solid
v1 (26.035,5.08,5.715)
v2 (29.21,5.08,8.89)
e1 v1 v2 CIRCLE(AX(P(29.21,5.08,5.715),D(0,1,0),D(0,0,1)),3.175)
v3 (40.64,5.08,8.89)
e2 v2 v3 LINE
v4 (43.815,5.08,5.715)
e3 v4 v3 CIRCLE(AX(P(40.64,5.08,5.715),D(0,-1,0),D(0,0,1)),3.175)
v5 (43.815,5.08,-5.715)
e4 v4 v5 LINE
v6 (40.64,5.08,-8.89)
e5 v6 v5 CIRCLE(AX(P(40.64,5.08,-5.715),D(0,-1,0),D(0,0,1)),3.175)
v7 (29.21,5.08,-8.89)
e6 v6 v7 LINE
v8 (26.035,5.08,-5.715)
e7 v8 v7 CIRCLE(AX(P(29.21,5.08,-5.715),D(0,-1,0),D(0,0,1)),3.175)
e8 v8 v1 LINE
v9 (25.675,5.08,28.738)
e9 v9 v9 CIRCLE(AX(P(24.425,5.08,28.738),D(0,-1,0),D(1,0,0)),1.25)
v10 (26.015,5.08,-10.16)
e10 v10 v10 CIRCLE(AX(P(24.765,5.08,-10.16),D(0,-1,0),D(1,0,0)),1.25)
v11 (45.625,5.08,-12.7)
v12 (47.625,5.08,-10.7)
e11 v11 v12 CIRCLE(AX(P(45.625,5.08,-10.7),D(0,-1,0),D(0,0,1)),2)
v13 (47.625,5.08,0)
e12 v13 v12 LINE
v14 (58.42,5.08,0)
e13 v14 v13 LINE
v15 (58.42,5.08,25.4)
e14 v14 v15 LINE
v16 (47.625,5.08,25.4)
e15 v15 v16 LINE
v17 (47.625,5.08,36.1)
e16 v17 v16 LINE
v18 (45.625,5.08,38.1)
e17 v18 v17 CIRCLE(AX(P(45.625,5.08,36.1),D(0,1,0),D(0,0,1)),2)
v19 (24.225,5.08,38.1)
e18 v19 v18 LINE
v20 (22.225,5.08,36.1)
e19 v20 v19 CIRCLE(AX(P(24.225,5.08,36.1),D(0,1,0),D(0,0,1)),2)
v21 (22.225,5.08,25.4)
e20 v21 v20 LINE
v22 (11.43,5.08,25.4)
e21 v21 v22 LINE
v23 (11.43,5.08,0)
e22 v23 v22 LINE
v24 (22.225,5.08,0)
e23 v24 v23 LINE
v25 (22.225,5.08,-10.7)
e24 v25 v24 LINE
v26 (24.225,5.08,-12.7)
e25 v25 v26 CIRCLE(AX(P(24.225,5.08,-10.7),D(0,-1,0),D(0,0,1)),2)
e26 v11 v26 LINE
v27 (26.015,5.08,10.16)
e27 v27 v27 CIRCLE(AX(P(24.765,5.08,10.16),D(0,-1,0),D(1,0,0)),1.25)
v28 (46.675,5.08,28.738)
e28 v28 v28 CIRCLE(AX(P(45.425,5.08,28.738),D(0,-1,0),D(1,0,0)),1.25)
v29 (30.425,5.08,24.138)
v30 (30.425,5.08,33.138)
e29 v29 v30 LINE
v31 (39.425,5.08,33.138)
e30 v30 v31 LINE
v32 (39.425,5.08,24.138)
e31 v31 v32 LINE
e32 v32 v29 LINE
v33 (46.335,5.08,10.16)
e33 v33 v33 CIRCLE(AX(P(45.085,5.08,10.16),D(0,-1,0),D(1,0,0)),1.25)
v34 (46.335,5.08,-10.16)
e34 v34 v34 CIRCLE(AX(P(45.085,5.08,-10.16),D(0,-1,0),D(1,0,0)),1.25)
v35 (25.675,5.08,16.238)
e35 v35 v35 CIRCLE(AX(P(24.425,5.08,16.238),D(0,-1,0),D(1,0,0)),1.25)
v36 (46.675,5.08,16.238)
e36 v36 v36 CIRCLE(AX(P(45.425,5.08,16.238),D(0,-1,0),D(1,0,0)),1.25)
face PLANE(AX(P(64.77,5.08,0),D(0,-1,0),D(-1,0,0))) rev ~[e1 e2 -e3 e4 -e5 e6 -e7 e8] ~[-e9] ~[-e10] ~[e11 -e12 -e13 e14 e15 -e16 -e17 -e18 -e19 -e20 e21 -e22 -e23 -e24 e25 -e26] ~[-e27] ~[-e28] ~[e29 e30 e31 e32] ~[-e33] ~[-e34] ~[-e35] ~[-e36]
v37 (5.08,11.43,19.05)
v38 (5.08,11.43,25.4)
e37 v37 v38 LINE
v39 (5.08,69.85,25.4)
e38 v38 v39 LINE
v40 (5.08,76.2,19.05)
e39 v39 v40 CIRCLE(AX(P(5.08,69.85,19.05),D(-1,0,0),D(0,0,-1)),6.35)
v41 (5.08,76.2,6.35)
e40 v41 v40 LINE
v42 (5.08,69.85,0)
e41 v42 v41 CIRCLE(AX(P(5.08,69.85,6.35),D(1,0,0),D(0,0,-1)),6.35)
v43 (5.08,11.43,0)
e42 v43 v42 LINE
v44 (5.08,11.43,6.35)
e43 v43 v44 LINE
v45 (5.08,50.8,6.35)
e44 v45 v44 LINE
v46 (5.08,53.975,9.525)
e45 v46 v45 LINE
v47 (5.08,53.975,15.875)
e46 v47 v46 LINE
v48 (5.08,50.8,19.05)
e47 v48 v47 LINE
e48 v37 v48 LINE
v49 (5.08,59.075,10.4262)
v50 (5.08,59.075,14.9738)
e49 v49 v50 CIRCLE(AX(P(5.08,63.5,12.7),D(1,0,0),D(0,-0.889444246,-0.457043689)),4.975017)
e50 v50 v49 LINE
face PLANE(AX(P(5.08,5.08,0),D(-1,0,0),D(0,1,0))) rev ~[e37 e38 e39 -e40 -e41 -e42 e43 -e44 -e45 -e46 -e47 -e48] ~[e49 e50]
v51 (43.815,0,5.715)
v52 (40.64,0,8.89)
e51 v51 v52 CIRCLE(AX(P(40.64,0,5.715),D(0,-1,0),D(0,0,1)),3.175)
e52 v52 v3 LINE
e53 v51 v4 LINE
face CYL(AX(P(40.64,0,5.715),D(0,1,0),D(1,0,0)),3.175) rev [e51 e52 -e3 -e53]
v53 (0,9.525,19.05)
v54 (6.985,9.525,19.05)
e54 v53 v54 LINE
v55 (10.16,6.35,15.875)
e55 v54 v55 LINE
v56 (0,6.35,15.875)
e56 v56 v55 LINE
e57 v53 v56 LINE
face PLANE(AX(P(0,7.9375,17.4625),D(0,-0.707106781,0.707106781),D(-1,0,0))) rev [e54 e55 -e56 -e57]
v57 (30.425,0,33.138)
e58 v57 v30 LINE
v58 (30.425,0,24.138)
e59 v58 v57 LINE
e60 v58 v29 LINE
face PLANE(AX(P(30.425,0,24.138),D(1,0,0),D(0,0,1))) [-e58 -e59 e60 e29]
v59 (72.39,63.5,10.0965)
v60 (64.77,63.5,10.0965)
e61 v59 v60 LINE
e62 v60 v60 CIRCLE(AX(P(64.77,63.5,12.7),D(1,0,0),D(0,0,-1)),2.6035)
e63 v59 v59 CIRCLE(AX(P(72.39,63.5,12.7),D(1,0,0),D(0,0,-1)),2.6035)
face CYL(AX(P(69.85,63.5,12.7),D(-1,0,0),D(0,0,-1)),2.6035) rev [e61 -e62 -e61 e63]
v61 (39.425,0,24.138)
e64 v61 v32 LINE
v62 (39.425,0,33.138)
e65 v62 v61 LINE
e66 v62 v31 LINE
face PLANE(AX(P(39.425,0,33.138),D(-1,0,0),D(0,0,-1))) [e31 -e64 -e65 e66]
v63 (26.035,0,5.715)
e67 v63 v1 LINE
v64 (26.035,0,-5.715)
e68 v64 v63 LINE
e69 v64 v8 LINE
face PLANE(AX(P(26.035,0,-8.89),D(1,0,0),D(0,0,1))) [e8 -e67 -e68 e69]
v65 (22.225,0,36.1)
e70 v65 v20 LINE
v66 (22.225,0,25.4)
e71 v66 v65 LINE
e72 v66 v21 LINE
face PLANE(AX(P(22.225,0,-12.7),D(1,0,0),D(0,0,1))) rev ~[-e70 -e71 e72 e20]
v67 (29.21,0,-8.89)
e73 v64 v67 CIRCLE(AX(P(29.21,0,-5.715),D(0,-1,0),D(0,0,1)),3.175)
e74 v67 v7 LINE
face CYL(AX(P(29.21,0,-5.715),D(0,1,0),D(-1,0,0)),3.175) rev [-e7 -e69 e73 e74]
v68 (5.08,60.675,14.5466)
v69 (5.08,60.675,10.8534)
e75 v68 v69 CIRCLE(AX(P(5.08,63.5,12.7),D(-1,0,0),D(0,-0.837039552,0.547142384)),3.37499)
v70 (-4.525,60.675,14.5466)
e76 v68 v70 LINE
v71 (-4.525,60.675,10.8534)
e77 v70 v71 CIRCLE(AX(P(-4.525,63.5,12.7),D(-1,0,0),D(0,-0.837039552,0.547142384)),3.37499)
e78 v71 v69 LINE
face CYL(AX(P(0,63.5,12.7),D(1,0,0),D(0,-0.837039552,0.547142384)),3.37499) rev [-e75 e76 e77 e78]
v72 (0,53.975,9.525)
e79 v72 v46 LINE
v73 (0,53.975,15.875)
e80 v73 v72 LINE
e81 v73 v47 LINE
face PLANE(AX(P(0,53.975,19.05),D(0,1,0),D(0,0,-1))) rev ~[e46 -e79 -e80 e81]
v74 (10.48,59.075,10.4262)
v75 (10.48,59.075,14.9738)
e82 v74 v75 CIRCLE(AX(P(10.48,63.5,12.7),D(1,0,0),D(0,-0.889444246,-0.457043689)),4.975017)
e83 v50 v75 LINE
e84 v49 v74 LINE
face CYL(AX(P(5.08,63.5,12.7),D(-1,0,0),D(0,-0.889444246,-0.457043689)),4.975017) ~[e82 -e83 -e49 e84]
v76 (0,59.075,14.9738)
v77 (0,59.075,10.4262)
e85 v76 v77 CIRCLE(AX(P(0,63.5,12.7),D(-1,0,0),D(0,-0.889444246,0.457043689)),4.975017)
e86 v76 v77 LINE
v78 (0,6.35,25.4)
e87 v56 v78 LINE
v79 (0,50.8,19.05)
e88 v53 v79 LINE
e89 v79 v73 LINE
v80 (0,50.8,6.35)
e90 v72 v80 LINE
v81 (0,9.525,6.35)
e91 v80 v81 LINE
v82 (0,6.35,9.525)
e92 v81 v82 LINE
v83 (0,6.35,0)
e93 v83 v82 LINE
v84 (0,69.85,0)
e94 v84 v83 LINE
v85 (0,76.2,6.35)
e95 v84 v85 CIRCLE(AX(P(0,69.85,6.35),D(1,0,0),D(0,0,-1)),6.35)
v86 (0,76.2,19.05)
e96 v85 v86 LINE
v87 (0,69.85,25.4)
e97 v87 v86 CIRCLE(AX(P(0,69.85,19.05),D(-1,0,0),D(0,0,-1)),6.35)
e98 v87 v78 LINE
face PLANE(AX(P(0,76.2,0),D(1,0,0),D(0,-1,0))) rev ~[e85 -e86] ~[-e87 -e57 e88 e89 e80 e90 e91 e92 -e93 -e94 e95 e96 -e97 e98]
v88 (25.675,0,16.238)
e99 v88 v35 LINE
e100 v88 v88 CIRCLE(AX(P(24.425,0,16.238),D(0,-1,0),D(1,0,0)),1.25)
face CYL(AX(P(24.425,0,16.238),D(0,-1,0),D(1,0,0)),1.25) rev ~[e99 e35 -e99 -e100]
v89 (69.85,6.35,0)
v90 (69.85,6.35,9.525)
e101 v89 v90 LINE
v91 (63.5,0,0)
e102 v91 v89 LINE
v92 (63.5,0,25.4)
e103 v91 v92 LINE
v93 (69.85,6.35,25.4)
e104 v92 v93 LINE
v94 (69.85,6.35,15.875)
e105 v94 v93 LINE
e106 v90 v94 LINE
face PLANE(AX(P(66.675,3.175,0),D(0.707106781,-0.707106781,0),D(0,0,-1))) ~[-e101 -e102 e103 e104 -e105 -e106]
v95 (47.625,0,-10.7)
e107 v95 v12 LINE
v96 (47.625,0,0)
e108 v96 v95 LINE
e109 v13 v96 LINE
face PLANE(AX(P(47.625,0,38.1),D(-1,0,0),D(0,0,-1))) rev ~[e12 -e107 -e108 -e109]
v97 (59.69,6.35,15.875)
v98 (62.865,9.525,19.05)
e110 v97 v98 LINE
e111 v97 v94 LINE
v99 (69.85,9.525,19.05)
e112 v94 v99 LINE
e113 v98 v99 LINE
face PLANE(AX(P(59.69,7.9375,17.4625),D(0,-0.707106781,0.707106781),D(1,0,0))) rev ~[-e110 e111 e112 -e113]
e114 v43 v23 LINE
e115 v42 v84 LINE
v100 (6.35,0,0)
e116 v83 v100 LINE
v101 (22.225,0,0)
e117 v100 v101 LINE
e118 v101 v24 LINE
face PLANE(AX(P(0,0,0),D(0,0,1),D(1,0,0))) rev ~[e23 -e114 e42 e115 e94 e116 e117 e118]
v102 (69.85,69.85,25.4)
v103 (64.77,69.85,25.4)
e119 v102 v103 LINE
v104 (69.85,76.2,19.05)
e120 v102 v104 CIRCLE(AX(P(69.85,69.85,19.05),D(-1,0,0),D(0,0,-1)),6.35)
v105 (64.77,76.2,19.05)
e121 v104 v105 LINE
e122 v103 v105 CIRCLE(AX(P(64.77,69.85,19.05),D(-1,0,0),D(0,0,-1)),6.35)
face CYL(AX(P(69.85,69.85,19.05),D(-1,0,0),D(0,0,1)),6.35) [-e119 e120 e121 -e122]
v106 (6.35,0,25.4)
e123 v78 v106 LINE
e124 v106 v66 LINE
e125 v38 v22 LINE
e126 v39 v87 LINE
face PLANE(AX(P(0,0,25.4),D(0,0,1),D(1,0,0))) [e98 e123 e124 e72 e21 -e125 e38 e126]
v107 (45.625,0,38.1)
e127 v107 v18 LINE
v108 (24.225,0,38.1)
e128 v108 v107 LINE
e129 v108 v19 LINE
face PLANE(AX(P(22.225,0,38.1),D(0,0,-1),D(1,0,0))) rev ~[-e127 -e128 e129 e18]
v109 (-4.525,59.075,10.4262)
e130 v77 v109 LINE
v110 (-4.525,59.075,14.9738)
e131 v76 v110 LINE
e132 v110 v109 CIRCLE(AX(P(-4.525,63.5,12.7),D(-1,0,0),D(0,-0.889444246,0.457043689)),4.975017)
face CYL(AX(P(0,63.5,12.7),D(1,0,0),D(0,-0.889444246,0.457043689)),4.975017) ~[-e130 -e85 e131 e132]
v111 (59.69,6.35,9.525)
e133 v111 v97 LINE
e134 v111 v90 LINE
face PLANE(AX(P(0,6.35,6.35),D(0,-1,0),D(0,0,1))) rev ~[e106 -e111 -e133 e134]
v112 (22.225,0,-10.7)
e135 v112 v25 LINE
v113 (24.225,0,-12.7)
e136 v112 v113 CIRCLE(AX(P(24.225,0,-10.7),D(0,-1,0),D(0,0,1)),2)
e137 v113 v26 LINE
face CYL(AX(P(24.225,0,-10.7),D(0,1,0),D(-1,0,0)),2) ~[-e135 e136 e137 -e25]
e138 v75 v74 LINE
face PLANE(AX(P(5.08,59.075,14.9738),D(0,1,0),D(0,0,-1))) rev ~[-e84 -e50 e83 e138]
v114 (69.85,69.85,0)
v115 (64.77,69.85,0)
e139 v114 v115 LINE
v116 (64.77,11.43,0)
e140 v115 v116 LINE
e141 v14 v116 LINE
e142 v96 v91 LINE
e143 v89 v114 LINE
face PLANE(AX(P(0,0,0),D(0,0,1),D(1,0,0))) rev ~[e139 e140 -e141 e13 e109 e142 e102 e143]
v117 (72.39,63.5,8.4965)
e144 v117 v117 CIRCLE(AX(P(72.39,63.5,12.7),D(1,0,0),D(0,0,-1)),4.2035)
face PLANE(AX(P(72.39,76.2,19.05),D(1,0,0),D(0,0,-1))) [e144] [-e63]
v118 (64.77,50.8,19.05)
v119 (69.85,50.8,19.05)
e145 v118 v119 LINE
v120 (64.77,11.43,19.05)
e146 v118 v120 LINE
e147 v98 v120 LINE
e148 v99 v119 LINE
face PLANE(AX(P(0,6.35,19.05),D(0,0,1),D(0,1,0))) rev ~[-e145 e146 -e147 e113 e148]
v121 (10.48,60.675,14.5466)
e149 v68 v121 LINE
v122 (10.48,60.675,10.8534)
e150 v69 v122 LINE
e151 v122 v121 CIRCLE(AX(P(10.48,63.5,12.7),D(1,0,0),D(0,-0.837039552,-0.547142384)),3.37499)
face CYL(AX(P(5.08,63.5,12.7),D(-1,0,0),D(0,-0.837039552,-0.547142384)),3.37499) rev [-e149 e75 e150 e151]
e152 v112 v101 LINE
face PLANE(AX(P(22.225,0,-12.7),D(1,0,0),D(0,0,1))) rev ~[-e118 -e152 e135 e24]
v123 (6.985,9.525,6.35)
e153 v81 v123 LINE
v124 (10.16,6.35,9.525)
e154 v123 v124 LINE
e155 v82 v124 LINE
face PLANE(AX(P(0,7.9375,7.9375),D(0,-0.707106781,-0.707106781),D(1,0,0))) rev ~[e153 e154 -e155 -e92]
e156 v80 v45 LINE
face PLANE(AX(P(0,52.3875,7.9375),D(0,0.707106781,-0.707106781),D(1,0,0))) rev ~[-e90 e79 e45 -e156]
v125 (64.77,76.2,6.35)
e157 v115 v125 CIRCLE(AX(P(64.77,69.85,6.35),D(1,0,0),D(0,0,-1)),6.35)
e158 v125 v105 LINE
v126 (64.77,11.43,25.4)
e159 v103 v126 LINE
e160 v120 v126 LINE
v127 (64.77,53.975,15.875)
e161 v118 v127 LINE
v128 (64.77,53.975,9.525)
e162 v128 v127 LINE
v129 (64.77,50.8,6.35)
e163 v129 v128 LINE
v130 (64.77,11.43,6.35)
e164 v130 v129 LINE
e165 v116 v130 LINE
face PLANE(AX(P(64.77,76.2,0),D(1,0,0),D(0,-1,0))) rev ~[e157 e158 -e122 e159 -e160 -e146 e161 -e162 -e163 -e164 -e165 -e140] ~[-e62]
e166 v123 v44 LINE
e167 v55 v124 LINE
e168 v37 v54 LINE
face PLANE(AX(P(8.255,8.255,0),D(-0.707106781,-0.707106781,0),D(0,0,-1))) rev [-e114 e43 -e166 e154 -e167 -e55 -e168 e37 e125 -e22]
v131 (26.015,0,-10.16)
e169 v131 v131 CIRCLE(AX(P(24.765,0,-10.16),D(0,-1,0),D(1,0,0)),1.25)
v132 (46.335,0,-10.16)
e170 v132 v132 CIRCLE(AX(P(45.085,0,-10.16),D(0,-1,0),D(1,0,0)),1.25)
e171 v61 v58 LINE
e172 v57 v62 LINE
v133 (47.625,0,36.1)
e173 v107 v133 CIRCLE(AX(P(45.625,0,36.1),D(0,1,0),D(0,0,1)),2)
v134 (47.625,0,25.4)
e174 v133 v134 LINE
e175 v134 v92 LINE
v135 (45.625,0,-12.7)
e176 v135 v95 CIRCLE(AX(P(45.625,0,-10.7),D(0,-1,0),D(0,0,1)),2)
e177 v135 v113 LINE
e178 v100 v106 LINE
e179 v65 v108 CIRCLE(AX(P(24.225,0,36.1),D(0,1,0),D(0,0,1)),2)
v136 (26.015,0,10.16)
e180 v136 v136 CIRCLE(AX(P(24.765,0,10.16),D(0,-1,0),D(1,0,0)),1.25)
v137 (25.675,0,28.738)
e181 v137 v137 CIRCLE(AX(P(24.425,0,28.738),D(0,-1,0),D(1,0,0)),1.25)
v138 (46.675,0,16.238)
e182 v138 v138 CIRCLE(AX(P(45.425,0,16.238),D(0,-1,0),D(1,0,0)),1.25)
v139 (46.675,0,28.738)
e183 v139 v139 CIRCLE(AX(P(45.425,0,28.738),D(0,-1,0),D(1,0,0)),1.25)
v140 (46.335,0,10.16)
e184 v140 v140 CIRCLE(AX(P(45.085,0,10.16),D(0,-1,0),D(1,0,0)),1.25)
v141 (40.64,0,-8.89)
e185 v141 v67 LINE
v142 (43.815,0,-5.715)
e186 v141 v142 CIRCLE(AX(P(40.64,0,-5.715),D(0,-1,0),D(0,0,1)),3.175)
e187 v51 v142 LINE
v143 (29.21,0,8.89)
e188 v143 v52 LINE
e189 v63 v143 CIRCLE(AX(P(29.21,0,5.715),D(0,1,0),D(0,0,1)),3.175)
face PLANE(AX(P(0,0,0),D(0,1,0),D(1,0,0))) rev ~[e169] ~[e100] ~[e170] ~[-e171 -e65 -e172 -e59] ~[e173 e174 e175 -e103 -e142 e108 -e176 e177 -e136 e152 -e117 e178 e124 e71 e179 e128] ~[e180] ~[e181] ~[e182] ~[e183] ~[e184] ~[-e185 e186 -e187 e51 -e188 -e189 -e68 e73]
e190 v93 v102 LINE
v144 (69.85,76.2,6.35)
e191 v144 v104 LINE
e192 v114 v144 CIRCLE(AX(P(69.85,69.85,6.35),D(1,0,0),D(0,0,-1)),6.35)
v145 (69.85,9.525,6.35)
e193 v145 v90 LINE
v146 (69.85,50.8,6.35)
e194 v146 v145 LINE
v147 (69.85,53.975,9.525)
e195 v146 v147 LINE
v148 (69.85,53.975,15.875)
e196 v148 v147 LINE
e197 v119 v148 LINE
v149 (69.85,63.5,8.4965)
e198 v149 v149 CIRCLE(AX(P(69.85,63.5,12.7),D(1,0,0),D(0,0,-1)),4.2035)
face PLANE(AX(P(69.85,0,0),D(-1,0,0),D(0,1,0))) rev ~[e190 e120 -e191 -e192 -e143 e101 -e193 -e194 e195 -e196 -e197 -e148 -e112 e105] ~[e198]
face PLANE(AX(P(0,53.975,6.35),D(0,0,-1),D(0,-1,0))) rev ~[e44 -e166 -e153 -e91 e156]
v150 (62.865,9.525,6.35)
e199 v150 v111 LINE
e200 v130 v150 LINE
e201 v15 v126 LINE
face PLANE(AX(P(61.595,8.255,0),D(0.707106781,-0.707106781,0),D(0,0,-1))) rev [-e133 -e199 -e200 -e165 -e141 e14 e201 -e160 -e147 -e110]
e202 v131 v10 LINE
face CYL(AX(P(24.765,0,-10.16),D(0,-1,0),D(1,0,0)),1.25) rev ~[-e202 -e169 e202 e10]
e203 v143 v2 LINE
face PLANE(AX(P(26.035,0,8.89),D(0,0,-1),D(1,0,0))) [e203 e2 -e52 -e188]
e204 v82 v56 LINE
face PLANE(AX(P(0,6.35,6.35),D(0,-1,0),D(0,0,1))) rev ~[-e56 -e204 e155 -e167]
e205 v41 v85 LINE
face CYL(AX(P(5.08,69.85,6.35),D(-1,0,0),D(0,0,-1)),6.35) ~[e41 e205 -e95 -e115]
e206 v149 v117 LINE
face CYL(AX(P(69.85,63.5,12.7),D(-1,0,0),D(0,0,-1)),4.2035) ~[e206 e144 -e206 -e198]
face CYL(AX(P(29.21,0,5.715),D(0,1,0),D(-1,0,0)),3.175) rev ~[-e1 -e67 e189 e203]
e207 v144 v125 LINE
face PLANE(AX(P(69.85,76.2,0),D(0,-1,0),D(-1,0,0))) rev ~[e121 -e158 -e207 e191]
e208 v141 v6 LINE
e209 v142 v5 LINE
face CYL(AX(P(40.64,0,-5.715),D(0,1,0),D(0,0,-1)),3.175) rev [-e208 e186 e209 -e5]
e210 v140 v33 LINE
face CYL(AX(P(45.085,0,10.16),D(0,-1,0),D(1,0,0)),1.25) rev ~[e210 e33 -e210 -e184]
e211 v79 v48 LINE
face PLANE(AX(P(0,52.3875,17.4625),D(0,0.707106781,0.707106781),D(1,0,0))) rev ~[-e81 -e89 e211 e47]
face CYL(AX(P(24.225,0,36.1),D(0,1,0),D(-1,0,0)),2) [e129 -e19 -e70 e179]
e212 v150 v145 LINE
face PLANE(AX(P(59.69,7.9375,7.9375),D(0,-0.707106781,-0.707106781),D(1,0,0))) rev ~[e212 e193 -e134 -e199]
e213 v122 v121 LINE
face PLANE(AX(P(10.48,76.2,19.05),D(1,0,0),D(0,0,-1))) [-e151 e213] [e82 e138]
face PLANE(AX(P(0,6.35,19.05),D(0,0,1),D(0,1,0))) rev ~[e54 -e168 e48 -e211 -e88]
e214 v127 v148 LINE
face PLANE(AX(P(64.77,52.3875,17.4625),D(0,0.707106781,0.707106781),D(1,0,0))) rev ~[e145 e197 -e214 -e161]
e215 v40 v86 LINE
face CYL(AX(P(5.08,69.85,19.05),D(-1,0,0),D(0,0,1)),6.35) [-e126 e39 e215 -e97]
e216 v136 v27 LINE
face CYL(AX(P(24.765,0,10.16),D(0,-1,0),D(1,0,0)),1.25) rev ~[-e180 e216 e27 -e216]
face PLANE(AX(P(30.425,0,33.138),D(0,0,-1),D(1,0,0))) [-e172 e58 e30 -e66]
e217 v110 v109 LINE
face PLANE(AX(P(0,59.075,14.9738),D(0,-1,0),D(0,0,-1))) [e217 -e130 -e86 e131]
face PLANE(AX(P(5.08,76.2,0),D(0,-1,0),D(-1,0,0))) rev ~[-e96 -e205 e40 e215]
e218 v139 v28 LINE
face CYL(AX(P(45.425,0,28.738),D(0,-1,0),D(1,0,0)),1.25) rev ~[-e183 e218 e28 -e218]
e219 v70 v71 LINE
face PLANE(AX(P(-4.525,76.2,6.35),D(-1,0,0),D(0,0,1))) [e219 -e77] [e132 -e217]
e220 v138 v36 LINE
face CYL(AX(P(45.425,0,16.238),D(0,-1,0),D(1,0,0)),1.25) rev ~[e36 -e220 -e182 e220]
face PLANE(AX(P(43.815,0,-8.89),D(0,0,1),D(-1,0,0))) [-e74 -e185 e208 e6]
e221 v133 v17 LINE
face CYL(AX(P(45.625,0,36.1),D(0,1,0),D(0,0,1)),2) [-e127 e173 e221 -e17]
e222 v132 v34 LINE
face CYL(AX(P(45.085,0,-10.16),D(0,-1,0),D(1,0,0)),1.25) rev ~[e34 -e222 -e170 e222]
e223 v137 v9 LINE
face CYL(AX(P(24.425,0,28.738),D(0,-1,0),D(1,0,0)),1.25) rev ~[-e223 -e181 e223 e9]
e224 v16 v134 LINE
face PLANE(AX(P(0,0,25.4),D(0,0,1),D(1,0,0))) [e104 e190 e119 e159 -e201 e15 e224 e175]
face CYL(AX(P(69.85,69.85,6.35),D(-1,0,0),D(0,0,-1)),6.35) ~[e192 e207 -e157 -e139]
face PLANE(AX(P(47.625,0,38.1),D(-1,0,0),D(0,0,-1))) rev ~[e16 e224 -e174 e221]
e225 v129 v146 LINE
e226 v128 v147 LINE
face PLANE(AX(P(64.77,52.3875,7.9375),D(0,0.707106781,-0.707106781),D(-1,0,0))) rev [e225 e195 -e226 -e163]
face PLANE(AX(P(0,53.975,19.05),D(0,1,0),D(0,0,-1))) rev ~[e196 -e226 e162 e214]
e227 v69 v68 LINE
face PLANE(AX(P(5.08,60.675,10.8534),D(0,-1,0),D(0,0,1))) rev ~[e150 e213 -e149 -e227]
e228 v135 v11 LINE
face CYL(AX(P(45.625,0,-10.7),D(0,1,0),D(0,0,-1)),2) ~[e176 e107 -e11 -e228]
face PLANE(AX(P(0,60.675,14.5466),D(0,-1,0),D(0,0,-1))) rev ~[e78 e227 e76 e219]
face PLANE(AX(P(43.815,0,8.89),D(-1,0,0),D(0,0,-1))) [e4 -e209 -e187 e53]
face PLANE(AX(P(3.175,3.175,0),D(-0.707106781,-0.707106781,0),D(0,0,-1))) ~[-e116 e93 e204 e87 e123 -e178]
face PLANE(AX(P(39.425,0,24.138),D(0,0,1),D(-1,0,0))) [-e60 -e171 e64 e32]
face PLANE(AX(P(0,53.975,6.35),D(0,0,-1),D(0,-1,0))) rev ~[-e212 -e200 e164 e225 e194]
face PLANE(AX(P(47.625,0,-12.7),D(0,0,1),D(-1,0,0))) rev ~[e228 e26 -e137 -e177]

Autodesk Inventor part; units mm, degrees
ref_plane "YZ Plane" through (0, 0, 0) normal (1, 0, 0) x (0, 1, 0)
ref_plane "XZ Plane" through (0, 0, 0) normal (0, 1, 0) x (-1, 0, 0)
ref_plane "XY Plane" through (0, 0, 0) normal (0, 0, 1) x (1, 0, 0)
sketch "Sketch1" plane through (0, 0, 0) normal (0, 0, 1) x (1, 0, 0)
  line L0 (0, 0) -> (69.85, 0)
  line L1 (69.85, 0) -> (69.85, 76.2)
  line L2 (0, 76.2) -> (0, 0)
  line L3 (64.77, 76.2) -> (64.77, 5.08)
  line L4 (64.77, 5.08) -> (5.08, 5.08)
  line L5 (5.08, 5.08) -> (5.08, 76.2)
  line L6 (69.85, 76.2) -> (64.77, 76.2)
  line L7 (5.08, 76.2) -> (0, 76.2)
  dimension "d0" = 69.85
  dimension "d1" = 5.08
  dimension "d2" = 5.08
  dimension "d3" = 76.2
extrude "Extrusion1" add sketch "Sketch1" along normal blind 25.4
sketch "Sketch2" plane through (0, 0, 0) normal (0, -1, 0) x (1, 0, 0)
  line L0 (22.225, 38.1) -> (47.625, 38.1)
  line L1 (47.625, 38.1) -> (47.625, -12.7)
  line L2 (47.625, -12.7) -> (22.225, -12.7)
  line L3 (22.225, -12.7) -> (22.225, 38.1)
  line L4 (0, 25.4) -> (69.85, 25.4) construction
  line L5 (0, 25.4) -> (22.225, 38.1) construction
  line L6 (0, 0) -> (69.85, 0) construction
  line L7 (0, 0) -> (22.225, -12.7) construction
  line L8 (47.625, 38.1) -> (69.85, 25.4) construction
  line L9 (47.625, -12.7) -> (69.85, 0) construction
  dimension "d6" = 50.8
  dimension "d7" = 25.4
extrude "Extrusion2" add sketch "Sketch2" against normal up to surface (5.08 mm away)
sketch "Sketch3" plane through (69.85, 0, 0) normal (0, -1, 0) x (1, 0, 0)
  line L0 (-22.225, 38.1) -> (-47.625, 38.1) construction
  line L1 (-47.425, 38.1) -> (-22.425, 38.1) construction
  line L2 (-22.425, 38.1) -> (-22.425, 14.238) construction
  line L3 (-22.425, 14.238) -> (-47.425, 14.238) construction
  line L4 (-47.425, 14.238) -> (-47.425, 38.1) construction
  line L5 (-5.08, 25.4) -> (-22.225, 25.4) construction
  line L6 (-22.225, 25.4) -> (-22.425, 25.4) construction
  line L7 (-69.85, 25.4) -> (-47.625, 25.4) construction
  line L8 (-47.625, 25.4) -> (-47.425, 25.4) construction
  circle A0 centre (-45.425, 16.238) radius 1.25
  circle A1 centre (-24.425, 16.238) radius 1.25
  circle A2 centre (-45.425, 28.738) radius 1.25
  circle A3 centre (-24.425, 28.738) radius 1.25
  line L9 (-39.425, 33.138) -> (-30.425, 33.138)
  line L10 (-30.425, 33.138) -> (-30.425, 24.138)
  line L11 (-30.425, 24.138) -> (-39.425, 24.138)
  line L12 (-39.425, 24.138) -> (-39.425, 33.138)
  line L13 (-39.425, 33.138) -> (-30.425, 24.138) construction
  line L14 (-39.425, 24.138) -> (-30.425, 33.138) construction
  point P0 (-69.85, 0)
  point P1 (-34.925, 28.638)
  dimension "d10" = 23.862
  dimension "d11" = 25
  dimension "d12" = 2.5
  dimension "d13" = 2
  dimension "d14" = 2
  dimension "d15" = 2
  dimension "d16" = 14.5
  dimension "d17" = 9
  dimension "d18" = 9.462
  dimension "d19" = 12.5
extrude "Extrusion3" cut sketch "Sketch3" against normal up to surface (5.08 mm away)
sketch "Sketch4" plane through (0, 0, 0) normal (0, -1, 0) x (1, 0, 0)
  line L0 (22.225, 0) -> (22.225, -12.7) construction
  line L1 (22.225, -12.7) -> (47.625, -12.7) construction
  line L2 (47.625, -12.7) -> (47.625, 12.7) construction
  line L3 (47.625, 12.7) -> (22.225, 12.7) construction
  line L4 (22.225, 12.7) -> (22.225, -12.7) construction
  line L5 (47.625, -12.7) -> (47.625, 0) construction
  line L6 (22.225, 12.7) -> (47.625, -12.7) construction
  line L7 (47.625, 12.7) -> (22.225, -12.7) construction
  line L8 (26.035, 8.89) -> (43.815, 8.89)
  line L9 (43.815, 8.89) -> (43.815, -8.89)
  line L10 (43.815, -8.89) -> (26.035, -8.89)
  line L11 (26.035, -8.89) -> (26.035, 8.89)
  circle A0 centre (24.765, 10.16) radius 1.25
  circle A1 centre (45.085, 10.16) radius 1.25
  circle A2 centre (45.085, -10.16) radius 1.25
  circle A3 centre (24.765, -10.16) radius 1.25
  point P0 (0, 0)
  dimension "d22" = 2.5
  dimension "d23" = 20.32
  dimension "d24" = 17.78
extrude "Extrusion4" cut sketch "Sketch4" against normal up to surface (5.08 mm away)
sketch "Sketch5" plane through (0, 0, 0) normal (-1, 0, 0) x (0, 0, 1)
  line L0 (0, 76.2) -> (25.4, 76.2) construction
  line L1 (0, 76.2) -> (0, 5.08) construction
  line L2 (25.4, 76.2) -> (0, 76.2) construction
  line L3 (0, 76.2) -> (0, 50.8) construction
  line L4 (0, 50.8) -> (25.4, 50.8) construction
  line L5 (25.4, 50.8) -> (25.4, 76.2) construction
  line L6 (25.4, 76.2) -> (0, 50.8) construction
  line L7 (25.4, 50.8) -> (0, 76.2) construction
  arc A0 (14.4861, 60.875) -> (10.9139, 60.875) centre (12.7, 63.5) ccw construction
  line L8 (14.4861, 60.875) -> (10.9139, 60.875) construction
  line L9 (10.8534, 60.675) -> (14.5466, 60.675)
  arc A1 (14.5466, 60.675) -> (10.8534, 60.675) centre (12.7, 63.5) ccw
  point P0 (0, 0)
  dimension "d27" = 25.4
  dimension "d28" = 6.35
  dimension "d29" = 5.8
  dimension "d54" = 0.2
extrude "Extrusion5" cut sketch "Sketch5" against normal up to surface (5.08 mm away)
sketch "Sketch6" plane through (69.85, 0, 0) normal (1, 0, 0) x (0, 0, -1)
  line L0 (-25.4, 76.2) -> (-25.4, 0) construction
  line L1 (-25.4, 76.2) -> (0, 50.8) construction
  line L2 (0, 76.2) -> (0, 0) construction
  line L3 (0, 76.2) -> (-25.4, 76.2) construction
  line L4 (0, 76.2) -> (-25.4, 50.8) construction
  line L5 (-25.4, 0) -> (-25.4, 76.2) construction
  line L6 (-25.4, 50.8) -> (0, 50.8) construction
  line L7 (-25.4, 5.08) -> (-25.4, 76.2) projected
  circle A0 centre (-12.7, 63.5) radius 2.6035
  dimension "d52" = 25.4
  dimension "d53" = 5.207
extrude "Extrusion6" cut sketch "Sketch6" against normal up to surface (5.08 mm away)
fillet "Fillet1" radius 2 4 edges at (47.625, 2.54, 38.1) (22.225, 2.54, 38.1) (22.225, 2.54, -12.7) (47.625, 2.54, -12.7)
fillet "Fillet2" radius 6.35 4 edges at (67.31, 76.2, 25.4) (67.31, 76.2, 0) (2.54, 76.2, 25.4) (2.54, 76.2, 0)
chamfer "Chamfer1" distance 6.35 angle 45 4 edges at (0, 0, 12.7) (5.08, 5.08, 12.7) (69.85, 0, 12.7) (64.77, 5.08, 12.7)
sketch "Sketch7" plane through (0, 76.2, 6.35) normal (-1, 0, 0) x (0, 0, 1)
  line L0 (12.7, -22.225) -> (0, -22.225)
  line L1 (0, -22.225) -> (0, -69.85)
  line L2 (0, -69.85) -> (12.7, -69.85)
  line L3 (12.7, -69.85) -> (12.7, -22.225)
  line L4 (-6.35, -6.35) -> (-6.35, -69.85) projected
  line L5 (19.05, -69.85) -> (-6.35, -69.85) projected
  line L6 (19.05, -6.35) -> (19.05, -69.85) projected
  arc A0 (8.975, -10.9139) -> (8.975, -14.4861) centre (6.35, -12.7) ccw projected
  point P0 (-6.35, -76.2)
  dimension "d42" = 6.35
  dimension "d43" = 0
  dimension "d44" = 6.35
  dimension "d46" = 6.35
extrude "Extrusion7" cut sketch "Sketch7" against normal through all
chamfer "Chamfer2" distance 3.175 angle 45 8 edges at (64.77, 6.35, 19.05) (64.77, 6.35, 6.35) (67.31, 53.975, 6.35) (67.31, 53.975, 19.05) (5.08, 6.35, 6.35) (5.08, 6.35, 19.05) (2.54, 53.975, 19.05) (2.54, 53.975, 6.35)
fillet "Fillet3" radius 3.175 4 edges at (26.035, 2.54, 8.89) (26.035, 2.54, -8.89) (43.815, 2.54, -8.89) (43.815, 2.54, 8.89)
sketch "Sketch8" plane through (0, 76.2, 6.35) normal (-1, 0, 0) x (0, 0, 1)
  arc A0 (8.1966, -15.525) -> (4.5034, -15.525) centre (6.35, -12.7) ccw projected
  line L0 (8.1966, -15.525) -> (4.5034, -15.525) projected
  arc A1 (8.6238, -17.125) -> (4.0762, -17.125) centre (6.35, -12.7) ccw
  line L1 (8.6238, -17.125) -> (4.0762, -17.125)
  point P0 (-6.35, -76.2)
  dimension "d56" = 1.6
extrude "Extrusion8" add sketch "Sketch8" along normal blind 4.525
sketch "Sketch9" plane through (5.08, 76.2, 19.05) normal (1, 0, 0) x (0, 0, -1)
  line L0 (8.1966, -15.525) -> (4.5034, -15.525) projected
  arc A0 (8.1966, -15.525) -> (4.5034, -15.525) centre (6.35, -12.7) ccw projected
  line L1 (4.0762, -17.125) -> (8.6238, -17.125)
  arc A1 (8.6238, -17.125) -> (4.0762, -17.125) centre (6.35, -12.7) ccw
  point P0 (19.05, -76.2)
  dimension "d59" = 1.6
extrude "Extrusion9" add sketch "Sketch9" along normal blind 5.4
sketch "Sketch10" plane through (69.85, 76.2, 19.05) normal (1, 0, 0) x (0, 0, -1)
  circle A0 centre (6.35, -12.7) radius 2.6035 projected
  circle A1 centre (6.35, -12.7) radius 4.2035
  point P0 (19.05, -76.2)
  dimension "d62" = 1.6
extrude "Extrusion10" add sketch "Sketch10" along normal blind 2.54
properties part number "HoseMount"
